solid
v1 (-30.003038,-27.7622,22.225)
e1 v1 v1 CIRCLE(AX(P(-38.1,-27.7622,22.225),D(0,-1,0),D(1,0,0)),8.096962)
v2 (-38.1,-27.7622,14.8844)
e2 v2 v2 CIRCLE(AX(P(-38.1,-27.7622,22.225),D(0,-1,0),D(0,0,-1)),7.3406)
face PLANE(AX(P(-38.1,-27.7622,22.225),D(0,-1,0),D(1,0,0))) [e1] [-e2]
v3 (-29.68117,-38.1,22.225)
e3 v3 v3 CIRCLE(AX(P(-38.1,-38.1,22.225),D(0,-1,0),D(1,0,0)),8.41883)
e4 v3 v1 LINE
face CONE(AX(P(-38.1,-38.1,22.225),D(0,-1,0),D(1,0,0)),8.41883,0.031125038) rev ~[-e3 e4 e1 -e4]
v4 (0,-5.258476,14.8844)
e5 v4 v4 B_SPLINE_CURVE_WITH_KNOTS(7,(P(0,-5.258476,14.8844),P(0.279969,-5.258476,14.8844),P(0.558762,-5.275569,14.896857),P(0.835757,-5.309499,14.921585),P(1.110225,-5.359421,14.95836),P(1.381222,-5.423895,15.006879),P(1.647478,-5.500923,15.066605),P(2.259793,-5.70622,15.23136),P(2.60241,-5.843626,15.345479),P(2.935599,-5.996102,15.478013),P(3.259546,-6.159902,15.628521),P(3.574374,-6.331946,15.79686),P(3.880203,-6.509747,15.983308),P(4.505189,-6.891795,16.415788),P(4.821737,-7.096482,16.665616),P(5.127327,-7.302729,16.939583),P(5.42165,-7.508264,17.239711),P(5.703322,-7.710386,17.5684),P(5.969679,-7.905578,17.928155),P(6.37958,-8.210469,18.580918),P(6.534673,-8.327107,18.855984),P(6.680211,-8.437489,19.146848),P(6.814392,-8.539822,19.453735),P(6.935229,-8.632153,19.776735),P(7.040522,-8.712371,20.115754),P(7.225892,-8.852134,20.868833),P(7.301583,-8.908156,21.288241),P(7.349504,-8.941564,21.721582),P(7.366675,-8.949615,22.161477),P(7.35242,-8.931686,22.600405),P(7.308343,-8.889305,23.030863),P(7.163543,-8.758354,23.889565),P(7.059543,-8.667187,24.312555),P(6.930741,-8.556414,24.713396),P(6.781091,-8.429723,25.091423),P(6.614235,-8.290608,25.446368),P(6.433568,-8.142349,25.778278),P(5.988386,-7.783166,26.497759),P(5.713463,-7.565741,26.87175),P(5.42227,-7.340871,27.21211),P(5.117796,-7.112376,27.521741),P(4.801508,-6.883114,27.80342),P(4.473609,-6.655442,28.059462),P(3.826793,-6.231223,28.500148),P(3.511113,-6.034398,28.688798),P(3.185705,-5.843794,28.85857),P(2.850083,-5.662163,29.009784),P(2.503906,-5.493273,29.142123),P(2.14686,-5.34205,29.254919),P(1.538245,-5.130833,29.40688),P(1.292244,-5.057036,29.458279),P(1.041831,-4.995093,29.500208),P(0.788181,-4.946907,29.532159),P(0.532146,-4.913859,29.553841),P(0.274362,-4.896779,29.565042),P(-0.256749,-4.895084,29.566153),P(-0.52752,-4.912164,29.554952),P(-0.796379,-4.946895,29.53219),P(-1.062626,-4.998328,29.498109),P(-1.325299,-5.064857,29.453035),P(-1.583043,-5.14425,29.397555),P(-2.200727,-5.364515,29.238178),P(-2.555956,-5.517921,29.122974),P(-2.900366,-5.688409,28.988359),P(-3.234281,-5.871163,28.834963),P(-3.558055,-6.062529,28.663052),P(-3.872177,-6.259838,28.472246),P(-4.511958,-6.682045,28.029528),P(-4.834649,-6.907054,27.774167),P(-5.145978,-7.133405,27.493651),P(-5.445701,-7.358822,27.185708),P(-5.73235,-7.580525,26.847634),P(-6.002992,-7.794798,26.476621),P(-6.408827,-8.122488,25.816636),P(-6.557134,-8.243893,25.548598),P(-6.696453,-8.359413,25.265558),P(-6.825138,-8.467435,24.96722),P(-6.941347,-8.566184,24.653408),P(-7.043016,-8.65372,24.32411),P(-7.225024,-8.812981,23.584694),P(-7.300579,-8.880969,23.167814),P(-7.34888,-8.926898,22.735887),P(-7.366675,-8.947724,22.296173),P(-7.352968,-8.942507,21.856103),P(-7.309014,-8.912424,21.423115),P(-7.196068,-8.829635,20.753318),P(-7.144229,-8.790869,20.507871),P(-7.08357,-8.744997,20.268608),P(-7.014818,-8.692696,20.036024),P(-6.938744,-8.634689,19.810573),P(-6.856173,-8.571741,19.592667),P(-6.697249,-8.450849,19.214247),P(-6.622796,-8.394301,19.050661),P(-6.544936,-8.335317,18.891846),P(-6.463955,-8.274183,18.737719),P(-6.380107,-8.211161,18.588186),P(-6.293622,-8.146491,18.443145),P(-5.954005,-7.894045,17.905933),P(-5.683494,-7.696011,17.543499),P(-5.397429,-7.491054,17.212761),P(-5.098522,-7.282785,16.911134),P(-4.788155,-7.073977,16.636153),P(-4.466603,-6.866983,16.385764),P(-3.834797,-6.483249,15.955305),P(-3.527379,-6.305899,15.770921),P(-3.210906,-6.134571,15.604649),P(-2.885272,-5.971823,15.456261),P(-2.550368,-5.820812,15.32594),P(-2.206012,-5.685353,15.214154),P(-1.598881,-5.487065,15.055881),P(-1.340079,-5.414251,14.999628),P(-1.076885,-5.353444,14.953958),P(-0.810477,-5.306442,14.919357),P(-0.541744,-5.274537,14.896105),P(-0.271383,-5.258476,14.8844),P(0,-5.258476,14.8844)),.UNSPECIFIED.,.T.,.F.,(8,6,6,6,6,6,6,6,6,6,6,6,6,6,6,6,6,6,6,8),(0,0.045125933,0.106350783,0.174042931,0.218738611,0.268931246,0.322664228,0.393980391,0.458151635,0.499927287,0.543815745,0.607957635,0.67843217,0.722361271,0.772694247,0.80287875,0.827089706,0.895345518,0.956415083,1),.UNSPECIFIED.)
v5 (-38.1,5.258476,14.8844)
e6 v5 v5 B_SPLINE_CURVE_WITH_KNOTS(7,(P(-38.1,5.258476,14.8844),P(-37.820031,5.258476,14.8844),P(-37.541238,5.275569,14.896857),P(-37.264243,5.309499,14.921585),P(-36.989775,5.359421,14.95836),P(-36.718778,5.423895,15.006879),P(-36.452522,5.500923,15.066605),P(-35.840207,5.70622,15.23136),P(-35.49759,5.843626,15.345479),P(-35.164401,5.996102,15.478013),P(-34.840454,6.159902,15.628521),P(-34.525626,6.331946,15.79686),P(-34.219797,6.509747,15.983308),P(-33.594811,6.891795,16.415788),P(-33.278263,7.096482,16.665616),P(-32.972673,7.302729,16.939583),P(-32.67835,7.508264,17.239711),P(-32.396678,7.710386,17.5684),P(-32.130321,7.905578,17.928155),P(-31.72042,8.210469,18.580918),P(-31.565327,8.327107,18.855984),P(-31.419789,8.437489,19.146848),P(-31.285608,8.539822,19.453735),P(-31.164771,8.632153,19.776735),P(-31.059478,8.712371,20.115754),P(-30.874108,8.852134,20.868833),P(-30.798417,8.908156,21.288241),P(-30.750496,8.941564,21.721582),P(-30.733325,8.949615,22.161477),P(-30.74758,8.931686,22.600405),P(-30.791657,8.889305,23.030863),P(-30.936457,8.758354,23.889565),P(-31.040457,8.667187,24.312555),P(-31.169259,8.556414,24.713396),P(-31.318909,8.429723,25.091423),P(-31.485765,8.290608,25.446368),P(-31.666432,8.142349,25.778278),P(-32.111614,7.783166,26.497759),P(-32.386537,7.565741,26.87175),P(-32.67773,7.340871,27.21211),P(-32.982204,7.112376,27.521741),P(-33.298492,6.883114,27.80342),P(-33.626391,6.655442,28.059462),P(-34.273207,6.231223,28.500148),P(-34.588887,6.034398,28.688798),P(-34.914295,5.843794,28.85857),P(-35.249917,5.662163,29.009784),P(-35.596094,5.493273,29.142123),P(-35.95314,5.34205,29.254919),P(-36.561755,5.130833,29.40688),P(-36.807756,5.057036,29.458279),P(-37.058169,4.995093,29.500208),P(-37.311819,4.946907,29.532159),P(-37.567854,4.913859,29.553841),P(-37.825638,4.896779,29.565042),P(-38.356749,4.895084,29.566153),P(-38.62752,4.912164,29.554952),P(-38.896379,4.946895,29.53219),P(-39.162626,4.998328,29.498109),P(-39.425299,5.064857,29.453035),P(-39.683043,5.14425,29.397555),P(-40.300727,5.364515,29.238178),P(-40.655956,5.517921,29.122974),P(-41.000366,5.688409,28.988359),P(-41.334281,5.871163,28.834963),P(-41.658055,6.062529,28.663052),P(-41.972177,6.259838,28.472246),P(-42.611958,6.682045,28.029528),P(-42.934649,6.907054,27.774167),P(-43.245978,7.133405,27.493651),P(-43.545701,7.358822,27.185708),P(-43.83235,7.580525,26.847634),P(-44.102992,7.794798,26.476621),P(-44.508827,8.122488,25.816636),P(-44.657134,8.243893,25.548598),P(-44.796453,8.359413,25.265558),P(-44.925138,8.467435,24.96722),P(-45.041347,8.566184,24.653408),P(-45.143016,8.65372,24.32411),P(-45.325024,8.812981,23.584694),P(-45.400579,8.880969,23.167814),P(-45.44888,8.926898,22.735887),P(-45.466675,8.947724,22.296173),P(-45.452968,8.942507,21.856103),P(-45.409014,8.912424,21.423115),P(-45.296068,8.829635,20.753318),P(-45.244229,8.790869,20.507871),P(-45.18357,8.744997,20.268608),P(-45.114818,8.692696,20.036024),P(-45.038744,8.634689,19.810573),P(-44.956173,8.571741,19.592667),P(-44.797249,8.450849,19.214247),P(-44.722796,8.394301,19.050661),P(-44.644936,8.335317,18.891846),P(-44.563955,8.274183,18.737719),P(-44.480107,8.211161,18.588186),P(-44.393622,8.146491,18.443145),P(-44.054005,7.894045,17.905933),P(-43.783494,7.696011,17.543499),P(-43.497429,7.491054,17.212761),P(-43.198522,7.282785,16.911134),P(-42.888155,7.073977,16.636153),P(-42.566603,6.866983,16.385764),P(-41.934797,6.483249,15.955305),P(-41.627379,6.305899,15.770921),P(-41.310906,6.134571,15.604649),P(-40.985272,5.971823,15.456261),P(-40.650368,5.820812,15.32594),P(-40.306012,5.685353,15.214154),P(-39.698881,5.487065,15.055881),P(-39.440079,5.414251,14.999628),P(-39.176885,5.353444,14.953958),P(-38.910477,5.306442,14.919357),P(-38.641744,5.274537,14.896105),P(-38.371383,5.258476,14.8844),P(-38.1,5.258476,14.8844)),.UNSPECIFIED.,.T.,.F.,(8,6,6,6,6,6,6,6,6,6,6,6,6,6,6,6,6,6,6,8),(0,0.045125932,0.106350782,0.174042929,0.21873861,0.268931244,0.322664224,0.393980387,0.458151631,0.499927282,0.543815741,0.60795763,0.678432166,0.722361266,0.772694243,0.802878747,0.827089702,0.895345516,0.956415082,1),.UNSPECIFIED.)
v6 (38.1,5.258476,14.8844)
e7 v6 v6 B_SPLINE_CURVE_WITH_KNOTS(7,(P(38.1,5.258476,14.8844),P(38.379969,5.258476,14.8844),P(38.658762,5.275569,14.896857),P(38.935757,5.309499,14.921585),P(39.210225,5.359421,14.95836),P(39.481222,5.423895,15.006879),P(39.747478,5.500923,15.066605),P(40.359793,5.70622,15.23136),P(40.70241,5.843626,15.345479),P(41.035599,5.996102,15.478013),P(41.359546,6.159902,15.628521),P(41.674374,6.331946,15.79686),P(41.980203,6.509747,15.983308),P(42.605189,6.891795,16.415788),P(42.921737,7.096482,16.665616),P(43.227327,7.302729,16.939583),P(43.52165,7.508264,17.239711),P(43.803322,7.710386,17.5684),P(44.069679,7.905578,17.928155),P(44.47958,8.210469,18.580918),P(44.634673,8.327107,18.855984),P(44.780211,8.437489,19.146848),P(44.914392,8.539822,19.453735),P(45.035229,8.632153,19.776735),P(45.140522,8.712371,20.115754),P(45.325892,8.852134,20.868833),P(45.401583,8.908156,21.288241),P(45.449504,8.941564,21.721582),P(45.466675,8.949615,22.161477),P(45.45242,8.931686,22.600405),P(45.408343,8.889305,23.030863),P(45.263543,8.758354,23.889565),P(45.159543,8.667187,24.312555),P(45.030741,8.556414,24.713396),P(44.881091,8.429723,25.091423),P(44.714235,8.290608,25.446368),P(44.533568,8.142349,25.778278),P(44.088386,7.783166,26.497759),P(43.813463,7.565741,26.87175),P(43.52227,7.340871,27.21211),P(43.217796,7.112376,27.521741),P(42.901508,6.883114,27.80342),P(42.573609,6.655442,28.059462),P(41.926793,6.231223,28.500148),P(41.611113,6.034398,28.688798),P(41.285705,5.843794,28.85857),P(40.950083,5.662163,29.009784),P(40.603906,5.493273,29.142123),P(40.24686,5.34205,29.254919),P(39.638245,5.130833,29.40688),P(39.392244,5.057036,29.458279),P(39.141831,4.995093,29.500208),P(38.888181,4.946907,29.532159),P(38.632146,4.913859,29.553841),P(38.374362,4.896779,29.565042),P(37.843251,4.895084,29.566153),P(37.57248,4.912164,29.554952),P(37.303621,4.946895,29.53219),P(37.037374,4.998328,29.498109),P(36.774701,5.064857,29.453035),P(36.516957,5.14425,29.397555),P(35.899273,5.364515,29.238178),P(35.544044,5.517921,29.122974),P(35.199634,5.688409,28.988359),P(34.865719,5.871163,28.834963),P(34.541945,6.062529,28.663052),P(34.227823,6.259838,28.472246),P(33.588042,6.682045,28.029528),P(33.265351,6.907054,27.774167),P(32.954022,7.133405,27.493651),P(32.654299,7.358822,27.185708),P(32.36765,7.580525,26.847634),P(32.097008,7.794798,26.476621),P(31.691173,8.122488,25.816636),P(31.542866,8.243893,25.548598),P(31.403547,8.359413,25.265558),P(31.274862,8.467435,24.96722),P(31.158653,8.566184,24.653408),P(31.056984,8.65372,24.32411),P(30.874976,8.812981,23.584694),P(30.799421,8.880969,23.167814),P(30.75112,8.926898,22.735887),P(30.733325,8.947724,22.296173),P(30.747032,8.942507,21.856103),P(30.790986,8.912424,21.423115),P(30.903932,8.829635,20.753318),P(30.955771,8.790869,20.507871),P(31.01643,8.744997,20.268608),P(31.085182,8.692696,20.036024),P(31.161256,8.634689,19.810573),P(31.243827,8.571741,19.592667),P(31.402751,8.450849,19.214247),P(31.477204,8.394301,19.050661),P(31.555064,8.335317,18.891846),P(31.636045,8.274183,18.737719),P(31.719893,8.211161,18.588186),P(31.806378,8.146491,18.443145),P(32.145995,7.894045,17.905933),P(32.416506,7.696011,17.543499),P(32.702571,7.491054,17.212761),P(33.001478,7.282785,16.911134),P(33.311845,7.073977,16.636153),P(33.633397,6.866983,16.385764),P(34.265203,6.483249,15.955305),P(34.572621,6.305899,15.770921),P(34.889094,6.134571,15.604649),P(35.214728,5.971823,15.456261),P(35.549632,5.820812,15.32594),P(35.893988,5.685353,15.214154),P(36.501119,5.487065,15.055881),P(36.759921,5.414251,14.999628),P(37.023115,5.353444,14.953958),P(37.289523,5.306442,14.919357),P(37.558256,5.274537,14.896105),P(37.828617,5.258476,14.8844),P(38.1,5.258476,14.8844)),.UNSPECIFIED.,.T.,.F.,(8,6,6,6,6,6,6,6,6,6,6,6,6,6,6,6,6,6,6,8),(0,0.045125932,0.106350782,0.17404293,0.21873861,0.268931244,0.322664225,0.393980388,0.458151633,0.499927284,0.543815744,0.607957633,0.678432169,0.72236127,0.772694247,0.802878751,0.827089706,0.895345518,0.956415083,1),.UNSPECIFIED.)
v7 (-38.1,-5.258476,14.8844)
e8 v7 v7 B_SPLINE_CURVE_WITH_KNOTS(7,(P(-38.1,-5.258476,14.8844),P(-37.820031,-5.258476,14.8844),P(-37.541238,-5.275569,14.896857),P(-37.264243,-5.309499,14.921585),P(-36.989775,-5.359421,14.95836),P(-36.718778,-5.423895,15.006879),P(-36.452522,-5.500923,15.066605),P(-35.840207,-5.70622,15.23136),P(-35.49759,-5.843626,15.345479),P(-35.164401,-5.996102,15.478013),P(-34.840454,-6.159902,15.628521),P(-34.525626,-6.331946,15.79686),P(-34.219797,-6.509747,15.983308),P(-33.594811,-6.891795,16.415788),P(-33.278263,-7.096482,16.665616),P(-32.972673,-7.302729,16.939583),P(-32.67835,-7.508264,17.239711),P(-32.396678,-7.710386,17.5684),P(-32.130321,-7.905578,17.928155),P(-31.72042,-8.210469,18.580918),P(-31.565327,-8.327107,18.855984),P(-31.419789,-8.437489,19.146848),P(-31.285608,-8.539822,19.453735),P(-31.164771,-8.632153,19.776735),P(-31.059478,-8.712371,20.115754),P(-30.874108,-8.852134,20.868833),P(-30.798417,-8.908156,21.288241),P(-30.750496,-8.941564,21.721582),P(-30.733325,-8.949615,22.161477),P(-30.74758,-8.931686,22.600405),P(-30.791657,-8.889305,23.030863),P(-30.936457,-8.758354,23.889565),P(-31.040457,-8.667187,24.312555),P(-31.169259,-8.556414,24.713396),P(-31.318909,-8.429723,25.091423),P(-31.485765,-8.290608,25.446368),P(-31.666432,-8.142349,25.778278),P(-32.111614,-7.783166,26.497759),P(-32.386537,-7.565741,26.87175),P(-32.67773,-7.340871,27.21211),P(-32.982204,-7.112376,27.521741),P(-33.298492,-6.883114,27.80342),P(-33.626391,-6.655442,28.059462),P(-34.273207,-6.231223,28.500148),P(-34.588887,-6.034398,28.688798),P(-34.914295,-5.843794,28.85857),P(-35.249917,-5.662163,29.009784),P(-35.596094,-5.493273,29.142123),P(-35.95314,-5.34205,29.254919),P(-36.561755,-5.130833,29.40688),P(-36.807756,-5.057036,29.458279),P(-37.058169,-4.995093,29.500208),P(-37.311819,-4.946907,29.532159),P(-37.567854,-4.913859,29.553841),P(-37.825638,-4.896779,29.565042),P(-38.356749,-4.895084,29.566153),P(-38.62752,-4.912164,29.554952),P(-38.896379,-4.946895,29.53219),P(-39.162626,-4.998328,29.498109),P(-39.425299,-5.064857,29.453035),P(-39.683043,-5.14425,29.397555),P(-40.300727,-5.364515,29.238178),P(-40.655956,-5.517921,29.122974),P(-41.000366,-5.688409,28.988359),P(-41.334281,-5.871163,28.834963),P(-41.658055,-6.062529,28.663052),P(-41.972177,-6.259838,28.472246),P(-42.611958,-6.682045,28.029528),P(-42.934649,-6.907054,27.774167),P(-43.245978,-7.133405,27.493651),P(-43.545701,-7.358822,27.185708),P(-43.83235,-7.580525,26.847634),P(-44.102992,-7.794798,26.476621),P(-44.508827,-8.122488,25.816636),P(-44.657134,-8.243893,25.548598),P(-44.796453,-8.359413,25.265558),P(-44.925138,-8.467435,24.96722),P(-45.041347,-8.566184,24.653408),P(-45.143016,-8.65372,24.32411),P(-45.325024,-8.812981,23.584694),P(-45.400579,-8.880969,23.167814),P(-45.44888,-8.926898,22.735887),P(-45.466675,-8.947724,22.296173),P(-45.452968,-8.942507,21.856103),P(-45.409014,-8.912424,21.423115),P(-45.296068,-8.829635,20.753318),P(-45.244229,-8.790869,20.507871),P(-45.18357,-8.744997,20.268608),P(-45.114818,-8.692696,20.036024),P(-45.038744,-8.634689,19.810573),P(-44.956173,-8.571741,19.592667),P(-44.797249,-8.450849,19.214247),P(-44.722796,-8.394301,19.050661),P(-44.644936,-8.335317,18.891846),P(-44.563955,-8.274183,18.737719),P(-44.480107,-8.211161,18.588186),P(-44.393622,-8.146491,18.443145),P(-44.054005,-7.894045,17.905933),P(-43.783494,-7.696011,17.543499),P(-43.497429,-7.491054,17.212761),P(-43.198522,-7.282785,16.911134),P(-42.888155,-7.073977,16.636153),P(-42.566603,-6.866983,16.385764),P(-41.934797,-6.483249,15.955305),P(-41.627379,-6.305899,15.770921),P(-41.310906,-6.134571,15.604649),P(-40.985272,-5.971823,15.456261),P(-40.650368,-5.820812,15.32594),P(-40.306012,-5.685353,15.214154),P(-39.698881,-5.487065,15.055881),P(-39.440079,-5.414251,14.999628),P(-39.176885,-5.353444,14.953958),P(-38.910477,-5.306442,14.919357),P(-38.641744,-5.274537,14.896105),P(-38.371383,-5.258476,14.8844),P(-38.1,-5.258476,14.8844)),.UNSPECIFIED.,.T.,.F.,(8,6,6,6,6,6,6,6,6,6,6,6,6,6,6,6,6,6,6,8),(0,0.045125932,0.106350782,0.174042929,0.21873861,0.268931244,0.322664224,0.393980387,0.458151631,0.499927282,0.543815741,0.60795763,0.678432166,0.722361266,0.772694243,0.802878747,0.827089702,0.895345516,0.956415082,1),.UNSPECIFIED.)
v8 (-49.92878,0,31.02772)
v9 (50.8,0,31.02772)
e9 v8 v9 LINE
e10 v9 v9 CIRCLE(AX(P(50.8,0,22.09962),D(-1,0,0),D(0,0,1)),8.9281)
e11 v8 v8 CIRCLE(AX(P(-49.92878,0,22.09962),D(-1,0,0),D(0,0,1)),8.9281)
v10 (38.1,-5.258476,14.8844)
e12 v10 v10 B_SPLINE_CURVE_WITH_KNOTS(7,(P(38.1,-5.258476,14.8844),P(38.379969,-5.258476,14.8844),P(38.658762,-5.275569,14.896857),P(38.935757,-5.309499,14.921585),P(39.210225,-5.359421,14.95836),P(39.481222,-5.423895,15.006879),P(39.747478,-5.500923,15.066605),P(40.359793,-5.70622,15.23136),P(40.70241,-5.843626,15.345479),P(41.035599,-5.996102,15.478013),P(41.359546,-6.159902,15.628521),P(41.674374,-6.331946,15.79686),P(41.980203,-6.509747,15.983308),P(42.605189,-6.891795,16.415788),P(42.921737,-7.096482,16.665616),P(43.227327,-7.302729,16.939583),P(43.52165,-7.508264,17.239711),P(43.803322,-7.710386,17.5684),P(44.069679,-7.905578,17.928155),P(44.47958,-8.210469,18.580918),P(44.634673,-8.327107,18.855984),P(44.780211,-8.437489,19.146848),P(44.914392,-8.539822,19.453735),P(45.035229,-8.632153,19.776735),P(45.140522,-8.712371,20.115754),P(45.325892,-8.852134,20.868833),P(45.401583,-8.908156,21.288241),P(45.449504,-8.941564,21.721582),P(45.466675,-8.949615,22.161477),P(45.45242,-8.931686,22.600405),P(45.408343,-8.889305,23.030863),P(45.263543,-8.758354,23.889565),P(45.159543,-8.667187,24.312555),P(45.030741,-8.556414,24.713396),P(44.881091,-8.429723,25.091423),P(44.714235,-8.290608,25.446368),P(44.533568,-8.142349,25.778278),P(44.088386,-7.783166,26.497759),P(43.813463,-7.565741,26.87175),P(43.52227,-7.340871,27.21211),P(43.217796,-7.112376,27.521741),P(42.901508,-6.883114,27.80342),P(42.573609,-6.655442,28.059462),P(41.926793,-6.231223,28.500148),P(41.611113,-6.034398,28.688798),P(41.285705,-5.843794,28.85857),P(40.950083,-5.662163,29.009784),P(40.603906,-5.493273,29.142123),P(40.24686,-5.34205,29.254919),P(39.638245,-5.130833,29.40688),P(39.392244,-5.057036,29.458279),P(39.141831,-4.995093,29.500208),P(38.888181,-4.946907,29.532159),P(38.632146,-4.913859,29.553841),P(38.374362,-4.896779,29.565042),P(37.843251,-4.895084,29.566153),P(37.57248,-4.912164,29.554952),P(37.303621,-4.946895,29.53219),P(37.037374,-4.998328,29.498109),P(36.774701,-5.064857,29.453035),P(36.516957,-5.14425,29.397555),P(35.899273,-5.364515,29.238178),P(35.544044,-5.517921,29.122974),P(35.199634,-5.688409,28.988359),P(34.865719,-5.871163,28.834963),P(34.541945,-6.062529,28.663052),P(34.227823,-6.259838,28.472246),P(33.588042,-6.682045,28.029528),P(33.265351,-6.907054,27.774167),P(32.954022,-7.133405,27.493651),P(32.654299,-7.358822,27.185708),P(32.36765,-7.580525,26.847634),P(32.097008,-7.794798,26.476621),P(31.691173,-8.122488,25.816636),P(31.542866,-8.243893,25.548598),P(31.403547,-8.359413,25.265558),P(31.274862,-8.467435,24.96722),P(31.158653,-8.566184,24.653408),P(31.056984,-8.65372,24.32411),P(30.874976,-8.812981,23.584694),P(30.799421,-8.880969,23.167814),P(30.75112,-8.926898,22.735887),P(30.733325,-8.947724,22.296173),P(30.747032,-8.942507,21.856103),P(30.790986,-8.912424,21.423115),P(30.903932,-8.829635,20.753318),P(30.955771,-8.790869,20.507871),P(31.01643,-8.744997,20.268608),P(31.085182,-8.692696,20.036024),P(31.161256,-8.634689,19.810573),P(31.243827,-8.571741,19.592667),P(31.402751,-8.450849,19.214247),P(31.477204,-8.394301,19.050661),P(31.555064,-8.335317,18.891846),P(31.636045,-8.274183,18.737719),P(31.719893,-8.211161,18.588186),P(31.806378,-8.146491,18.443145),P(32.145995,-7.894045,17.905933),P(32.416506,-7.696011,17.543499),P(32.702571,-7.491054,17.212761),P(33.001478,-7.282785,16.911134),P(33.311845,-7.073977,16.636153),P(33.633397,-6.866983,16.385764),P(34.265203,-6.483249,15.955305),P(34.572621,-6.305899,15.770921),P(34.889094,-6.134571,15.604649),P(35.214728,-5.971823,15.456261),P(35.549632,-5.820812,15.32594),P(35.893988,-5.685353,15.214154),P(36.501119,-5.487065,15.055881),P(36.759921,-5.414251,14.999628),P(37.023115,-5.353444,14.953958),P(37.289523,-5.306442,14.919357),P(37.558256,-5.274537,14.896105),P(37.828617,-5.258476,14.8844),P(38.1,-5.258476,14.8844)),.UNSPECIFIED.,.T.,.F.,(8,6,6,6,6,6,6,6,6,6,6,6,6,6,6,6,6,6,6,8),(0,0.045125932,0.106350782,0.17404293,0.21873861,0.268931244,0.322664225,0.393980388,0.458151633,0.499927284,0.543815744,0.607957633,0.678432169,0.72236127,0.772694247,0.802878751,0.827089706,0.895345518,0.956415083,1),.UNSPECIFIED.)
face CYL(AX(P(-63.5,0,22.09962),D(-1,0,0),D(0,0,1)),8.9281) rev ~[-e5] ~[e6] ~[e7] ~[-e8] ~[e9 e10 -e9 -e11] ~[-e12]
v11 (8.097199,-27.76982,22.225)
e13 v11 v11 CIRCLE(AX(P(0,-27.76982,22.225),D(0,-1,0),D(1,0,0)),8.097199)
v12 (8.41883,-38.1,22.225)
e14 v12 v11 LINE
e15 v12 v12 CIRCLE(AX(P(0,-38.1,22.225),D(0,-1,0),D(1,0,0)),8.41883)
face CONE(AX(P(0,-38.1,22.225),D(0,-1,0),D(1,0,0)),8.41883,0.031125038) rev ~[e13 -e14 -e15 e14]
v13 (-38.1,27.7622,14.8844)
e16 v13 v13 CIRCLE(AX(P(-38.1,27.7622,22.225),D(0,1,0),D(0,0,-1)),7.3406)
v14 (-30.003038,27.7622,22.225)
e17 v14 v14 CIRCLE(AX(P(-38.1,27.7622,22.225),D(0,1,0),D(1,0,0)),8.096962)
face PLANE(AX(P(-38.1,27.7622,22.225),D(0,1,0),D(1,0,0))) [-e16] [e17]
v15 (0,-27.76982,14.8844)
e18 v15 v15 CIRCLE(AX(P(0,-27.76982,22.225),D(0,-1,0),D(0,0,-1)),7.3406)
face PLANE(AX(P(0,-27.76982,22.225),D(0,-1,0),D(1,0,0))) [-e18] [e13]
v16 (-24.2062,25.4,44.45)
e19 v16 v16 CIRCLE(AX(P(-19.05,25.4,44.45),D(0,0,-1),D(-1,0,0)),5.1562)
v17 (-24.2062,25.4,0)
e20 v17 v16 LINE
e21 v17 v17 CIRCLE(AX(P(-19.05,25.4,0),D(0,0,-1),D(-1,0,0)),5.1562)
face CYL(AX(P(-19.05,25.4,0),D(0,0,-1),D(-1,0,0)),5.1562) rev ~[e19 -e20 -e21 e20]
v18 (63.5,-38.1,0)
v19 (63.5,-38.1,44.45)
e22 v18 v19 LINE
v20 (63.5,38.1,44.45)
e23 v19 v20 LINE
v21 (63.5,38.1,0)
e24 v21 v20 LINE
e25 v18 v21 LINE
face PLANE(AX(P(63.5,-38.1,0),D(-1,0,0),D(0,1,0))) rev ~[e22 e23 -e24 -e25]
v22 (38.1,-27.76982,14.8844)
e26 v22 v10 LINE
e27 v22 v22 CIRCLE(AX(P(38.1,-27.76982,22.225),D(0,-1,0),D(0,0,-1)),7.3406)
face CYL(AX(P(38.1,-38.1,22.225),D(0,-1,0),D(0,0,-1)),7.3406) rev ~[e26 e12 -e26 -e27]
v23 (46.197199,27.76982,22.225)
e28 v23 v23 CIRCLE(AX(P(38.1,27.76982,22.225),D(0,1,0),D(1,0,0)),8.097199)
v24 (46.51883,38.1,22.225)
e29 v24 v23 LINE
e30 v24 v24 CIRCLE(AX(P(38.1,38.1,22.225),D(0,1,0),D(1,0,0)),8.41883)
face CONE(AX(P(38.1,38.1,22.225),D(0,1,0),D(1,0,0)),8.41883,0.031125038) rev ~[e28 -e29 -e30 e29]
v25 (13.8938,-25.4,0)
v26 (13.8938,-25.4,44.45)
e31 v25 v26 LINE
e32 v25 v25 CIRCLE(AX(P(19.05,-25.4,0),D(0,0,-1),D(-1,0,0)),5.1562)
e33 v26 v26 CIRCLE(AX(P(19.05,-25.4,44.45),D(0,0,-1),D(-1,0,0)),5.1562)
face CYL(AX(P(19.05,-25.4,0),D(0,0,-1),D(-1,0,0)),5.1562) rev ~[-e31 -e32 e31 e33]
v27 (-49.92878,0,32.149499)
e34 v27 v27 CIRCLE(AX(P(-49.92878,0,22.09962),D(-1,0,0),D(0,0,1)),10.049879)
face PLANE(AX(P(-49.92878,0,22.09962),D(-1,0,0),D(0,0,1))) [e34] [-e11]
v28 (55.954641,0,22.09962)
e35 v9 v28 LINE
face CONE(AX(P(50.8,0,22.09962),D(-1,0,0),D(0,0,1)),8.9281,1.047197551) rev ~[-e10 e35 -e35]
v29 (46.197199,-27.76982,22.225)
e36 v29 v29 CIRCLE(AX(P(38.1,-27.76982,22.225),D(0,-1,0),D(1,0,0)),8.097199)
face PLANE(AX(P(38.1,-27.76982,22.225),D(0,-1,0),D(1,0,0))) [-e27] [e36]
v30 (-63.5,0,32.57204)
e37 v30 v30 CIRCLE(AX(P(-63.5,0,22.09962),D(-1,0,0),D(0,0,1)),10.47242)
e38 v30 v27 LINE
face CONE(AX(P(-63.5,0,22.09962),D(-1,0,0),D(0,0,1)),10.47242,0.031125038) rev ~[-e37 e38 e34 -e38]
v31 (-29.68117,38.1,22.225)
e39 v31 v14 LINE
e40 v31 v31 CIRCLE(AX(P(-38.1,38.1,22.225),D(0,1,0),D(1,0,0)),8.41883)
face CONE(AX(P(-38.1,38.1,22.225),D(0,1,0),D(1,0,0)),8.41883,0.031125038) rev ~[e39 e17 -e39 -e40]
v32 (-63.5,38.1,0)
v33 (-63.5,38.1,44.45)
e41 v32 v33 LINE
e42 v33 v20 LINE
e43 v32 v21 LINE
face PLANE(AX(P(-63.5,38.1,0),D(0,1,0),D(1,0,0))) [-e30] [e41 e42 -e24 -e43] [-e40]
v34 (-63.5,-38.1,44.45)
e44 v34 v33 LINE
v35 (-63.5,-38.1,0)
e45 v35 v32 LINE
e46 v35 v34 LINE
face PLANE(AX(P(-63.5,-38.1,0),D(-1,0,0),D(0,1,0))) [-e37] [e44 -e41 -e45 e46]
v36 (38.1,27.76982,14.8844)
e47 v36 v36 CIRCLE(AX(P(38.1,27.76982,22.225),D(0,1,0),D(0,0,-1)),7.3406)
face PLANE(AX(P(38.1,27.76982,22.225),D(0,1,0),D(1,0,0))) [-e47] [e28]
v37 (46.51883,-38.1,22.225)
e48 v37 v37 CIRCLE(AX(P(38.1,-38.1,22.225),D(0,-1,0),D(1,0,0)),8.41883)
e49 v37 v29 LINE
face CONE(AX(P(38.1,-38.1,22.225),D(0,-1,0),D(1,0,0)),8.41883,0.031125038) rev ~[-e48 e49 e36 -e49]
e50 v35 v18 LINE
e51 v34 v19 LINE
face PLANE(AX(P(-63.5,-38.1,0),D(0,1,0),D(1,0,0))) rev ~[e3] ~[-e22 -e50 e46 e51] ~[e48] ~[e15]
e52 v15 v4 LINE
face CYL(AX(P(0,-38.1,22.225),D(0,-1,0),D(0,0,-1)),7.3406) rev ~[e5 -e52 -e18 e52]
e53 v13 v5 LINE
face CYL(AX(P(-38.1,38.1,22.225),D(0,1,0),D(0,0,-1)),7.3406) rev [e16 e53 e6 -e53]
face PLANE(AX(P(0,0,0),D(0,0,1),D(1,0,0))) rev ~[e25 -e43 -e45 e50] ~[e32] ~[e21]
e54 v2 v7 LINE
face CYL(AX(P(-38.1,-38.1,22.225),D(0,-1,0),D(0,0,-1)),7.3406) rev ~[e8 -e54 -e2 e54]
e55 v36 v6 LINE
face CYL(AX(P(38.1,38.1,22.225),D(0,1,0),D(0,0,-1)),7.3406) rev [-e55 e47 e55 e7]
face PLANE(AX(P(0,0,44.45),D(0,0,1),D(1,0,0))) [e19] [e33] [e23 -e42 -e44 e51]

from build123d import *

# Parameters (mm, degrees)
SKETCH1_W                = 127
SKETCH1_H                = 76.2
BASE_EXTRUDE_DEPTH       = 44.45
SKETCH13_R               = 10.47242
CUT_EXTRUDE7_DEPTH       = 13.57122
CUT_EXTRUDE7_DRAFT       = -1.783333333
SKETCH14_R               = 8.9281
CUT_EXTRUDE8_DEPTH       = 114.3
SKETCH17_R               = 8.41883
CUT_EXTRUDE10_DEPTH      = 10.33018
CUT_EXTRUDE10_DRAFT      = -1.783333333
CUT_EXTRUDE11_REACH      = 182.583
CUT_EXTRUDE11_END_RADIUS = 8.9281
SKETCH18_R               = 7.3406
SKETCH21_R               = 8.41883
CUT_EXTRUDE13_DEPTH      = 10.33018
CUT_EXTRUDE13_DRAFT      = -1.783333333
CUT_EXTRUDE14_REACH      = 151.643
CUT_EXTRUDE14_END_RADIUS = 8.9281
SKETCH22_R               = 7.3406
SKETCH25_R               = 8.41883
CUT_EXTRUDE16_DEPTH      = 10.3378
CUT_EXTRUDE16_DRAFT      = -1.783333333
CUT_EXTRUDE17_REACH      = 124.053
CUT_EXTRUDE17_END_RADIUS = 8.9281
SKETCH26_R               = 7.3406
MIRROR1_COPY_1_SKETCH_R  = 8.41883
MIRROR1_COPY_1_DEPTH     = 10.33018
MIRROR1_COPY_1_DRAFT     = -1.783333333
MIRROR1_COPY_2_SKETCH_R  = 8.41883
MIRROR1_COPY_2_DEPTH     = 10.3378
MIRROR1_COPY_2_DRAFT     = -1.783333333
SKETCH29_R               = 5.1562
CUT_EXTRUDE19_DEPTH      = 87.36933773


with BuildPart() as part:
    # Sketch1 → Base-Extrude (new body)
    with BuildSketch(Plane.XY):
        Rectangle(SKETCH1_W, SKETCH1_H)
    extrude(amount=BASE_EXTRUDE_DEPTH)


with BuildPart() as cut_extrude7_tool:
    # Sketch13 → Cut-Extrude7 (with draft: the straight prism first)
    with BuildSketch(Plane(origin=(-63.5, 42.382338567, -29.074180248), x_dir=(0, 0, 1), z_dir=(-1, 0, 0))):
        with Locations((51.173800102, -42.382338567)):
            Circle(SKETCH13_R)
    extrude(amount=-CUT_EXTRUDE7_DEPTH)
    # Cut-Extrude7: the draft: its side faces are tilted about the plane it starts from
    cut_extrude7_sides = [cut_extrude7_tool.faces().sort_by_distance(p)[0] for p in [
        (-56.71439, 0, 11.627199854),
    ]]
    draft(cut_extrude7_sides, Plane(origin=(-63.5, 42.382338567, -29.074180248), x_dir=(0, 0, 1), z_dir=(-1, 0, 0)), CUT_EXTRUDE7_DRAFT)


with BuildPart() as part_1:
    add(part.part)

    # Cut-Extrude7: cut by cut_extrude7_tool
    add(cut_extrude7_tool.part, mode=Mode.SUBTRACT)

    # Sketch14 → Cut-Extrude8 (cut)
    with BuildSketch(Plane(origin=(-63.5, 38.1, -63.5), x_dir=(0, 0, 1), z_dir=(-1, 0, 0))):
        with Locations((85.599619854, -38.1)):
            Circle(SKETCH14_R)
    extrude(amount=-CUT_EXTRUDE8_DEPTH, mode=Mode.SUBTRACT)

    # Cut-Extrude9 cone 1 section (through the dimple's axis) → Cut-Extrude9 (revolve, cut)
    with BuildSketch(Plane(origin=(50.8, 0, 22.099619854), x_dir=(0, 0, 1), z_dir=(0, 1, 0))):
        Polygon((0, 0), (8.9281, 0), (0, 5.154640938), align=None)
    revolve(axis=Axis((50.8, 0, 22.099619854), (1, 0, 0)), mode=Mode.SUBTRACT)


with BuildPart() as cut_extrude10_tool:
    # Sketch17 → Cut-Extrude10 (with draft: the straight prism first)
    with BuildSketch(Plane(origin=(97.86363054, -38.1, 25.99710819), x_dir=(1, 0, 0), z_dir=(0, -1, 0))):
        with Locations((-59.76363054, -3.77210819)):
            Circle(SKETCH17_R)
    extrude(amount=-CUT_EXTRUDE10_DEPTH)
    # Cut-Extrude10: the draft: its side faces are tilted about the plane it starts from
    cut_extrude10_sides = [cut_extrude10_tool.faces().sort_by_distance(p)[0] for p in [
        (29.68117, -32.93491, 22.225),
    ]]
    draft(cut_extrude10_sides, Plane(origin=(97.86363054, -38.1, 25.99710819), x_dir=(1, 0, 0), z_dir=(0, -1, 0)), CUT_EXTRUDE10_DRAFT)


with BuildPart() as part_2:
    add(part_1.part)

    # Cut-Extrude10: cut by cut_extrude10_tool
    add(cut_extrude10_tool.part, mode=Mode.SUBTRACT)

    # Cut-Extrude11: up to this cylinder (the profile starts outside it)
    cut_extrude11_end = Plane(origin=(38.1, 0, 22.099619854), z_dir=(-1, 0, 0)) * Cylinder(CUT_EXTRUDE11_END_RADIUS, 384.0222, mode=Mode.PRIVATE)
    # Sketch18 → Cut-Extrude11 (cut, up to the surface)
    with BuildSketch(Plane(origin=(98.70252821, -38.1, 22.225), x_dir=(1, 0, 0), z_dir=(0, -1, 0)), mode=Mode.PRIVATE) as cut_extrude11_sk1:
        with Locations(Location((-60.60252821, 0, 0), (0, 0, 270))):
            Circle(SKETCH18_R)
    cut_extrude11_tool1 = extrude(cut_extrude11_sk1.sketch, amount=-CUT_EXTRUDE11_REACH, mode=Mode.PRIVATE) - cut_extrude11_end
    cut_extrude11 = cut_extrude11_tool1.solids().sort_by_distance((38.1, -38.1, 22.225))[0]
    add(cut_extrude11, mode=Mode.SUBTRACT)


with BuildPart() as cut_extrude13_tool:
    # Sketch21 → Cut-Extrude13 (with draft: the straight prism first)
    with BuildSketch(Plane(origin=(60.495960608, -38.1, 35.437611041), x_dir=(1, 0, 0), z_dir=(0, -1, 0))):
        with Locations((-60.495960608, -13.212611041)):
            Circle(SKETCH21_R)
    extrude(amount=-CUT_EXTRUDE13_DEPTH)
    # Cut-Extrude13: the draft: its side faces are tilted about the plane it starts from
    cut_extrude13_sides = [cut_extrude13_tool.faces().sort_by_distance(p)[0] for p in [
        (-8.41883, -32.93491, 22.225),
    ]]
    draft(cut_extrude13_sides, Plane(origin=(60.495960608, -38.1, 35.437611041), x_dir=(1, 0, 0), z_dir=(0, -1, 0)), CUT_EXTRUDE13_DRAFT)


with BuildPart() as part_3:
    add(part_2.part)

    # Cut-Extrude13: cut by cut_extrude13_tool
    add(cut_extrude13_tool.part, mode=Mode.SUBTRACT)

    # Cut-Extrude14: up to this cylinder (the profile starts outside it)
    cut_extrude14_end = Plane(origin=(0, 0, 22.099619854), z_dir=(-1, 0, 0)) * Cylinder(CUT_EXTRUDE14_END_RADIUS, 322.1422, mode=Mode.PRIVATE)
    # Sketch22 → Cut-Extrude14 (cut, up to the surface)
    with BuildSketch(Plane(origin=(61.334858278, -38.1, 31.665502851), x_dir=(1, 0, 0), z_dir=(0, -1, 0)), mode=Mode.PRIVATE) as cut_extrude14_sk1:
        with Locations(Location((-61.334858278, -9.440502851, 0), (0, 0, 270))):
            Circle(SKETCH22_R)
    cut_extrude14_tool1 = extrude(cut_extrude14_sk1.sketch, amount=-CUT_EXTRUDE14_REACH, mode=Mode.PRIVATE) - cut_extrude14_end
    add(cut_extrude14_tool1.solids().sort_by_distance((0, -38.1, 22.225))[0], mode=Mode.SUBTRACT)


with BuildPart() as cut_extrude16_tool:
    # Sketch25 → Cut-Extrude16 (with draft: the straight prism first)
    with BuildSketch(Plane(origin=(25.307359991, -38.1, 36.236677515), x_dir=(1, 0, 0), z_dir=(0, -1, 0))):
        with Locations((-63.407359991, -14.011677515)):
            Circle(SKETCH25_R)
    extrude(amount=-CUT_EXTRUDE16_DEPTH)
    # Cut-Extrude16: the draft: its side faces are tilted about the plane it starts from
    cut_extrude16_sides = [cut_extrude16_tool.faces().sort_by_distance(p)[0] for p in [
        (-46.51883, -32.9311, 22.225),
    ]]
    draft(cut_extrude16_sides, Plane(origin=(25.307359991, -38.1, 36.236677515), x_dir=(1, 0, 0), z_dir=(0, -1, 0)), CUT_EXTRUDE16_DRAFT)


with BuildPart() as part_4:
    add(part_3.part)

    # Cut-Extrude16: cut by cut_extrude16_tool
    add(cut_extrude16_tool.part, mode=Mode.SUBTRACT)

    # Cut-Extrude17: up to this cylinder (the profile starts outside it)
    cut_extrude17_end = Plane(origin=(-38.1, 0, 22.099619854), z_dir=(-1, 0, 0)) * Cylinder(CUT_EXTRUDE17_END_RADIUS, 266.9622, mode=Mode.PRIVATE)
    # Sketch26 → Cut-Extrude17 (cut, up to the surface)
    with BuildSketch(Plane(origin=(26.146257661, -38.1, 32.464569325), x_dir=(1, 0, 0), z_dir=(0, -1, 0)), mode=Mode.PRIVATE) as cut_extrude17_sk1:
        with Locations(Location((-64.246257661, -10.239569325, 0), (0, 0, 270))):
            Circle(SKETCH26_R)
    cut_extrude17_tool1 = extrude(cut_extrude17_sk1.sketch, amount=-CUT_EXTRUDE17_REACH, mode=Mode.PRIVATE) - cut_extrude17_end
    cut_extrude17 = cut_extrude17_tool1.solids().sort_by_distance((-38.1, -38.1, 22.225))[0]
    add(cut_extrude17, mode=Mode.SUBTRACT)

    # Mirror1: Cut-Extrude11, Cut-Extrude17 across plane
    add(cut_extrude11.mirror(Plane.ZX), mode=Mode.SUBTRACT)
    add(cut_extrude17.mirror(Plane.ZX), mode=Mode.SUBTRACT)


with BuildPart() as mirror1_copy_1_tool:
    # Mirror1 copy 1 sketch → Mirror1 copy 1 (with draft: the straight prism first)
    with BuildSketch(Plane(origin=(97.86363054, 38.1, 25.99710819), x_dir=(1, 0, 0), z_dir=(0, 1, 0))):
        with Locations((-59.76363054, 3.77210819)):
            Circle(MIRROR1_COPY_1_SKETCH_R)
    extrude(amount=-MIRROR1_COPY_1_DEPTH)
    # Mirror1 copy 1: the draft: its side faces are tilted about the plane it starts from
    mirror1_copy_1_sides = [mirror1_copy_1_tool.faces().sort_by_distance(p)[0] for p in [
        (29.68117, 32.93491, 22.225),
    ]]
    draft(mirror1_copy_1_sides, Plane(origin=(97.86363054, 38.1, 25.99710819), x_dir=(1, 0, 0), z_dir=(0, 1, 0)), MIRROR1_COPY_1_DRAFT)


with BuildPart() as part_5:
    add(part_4.part)

    # Mirror1 copy 1: cut by mirror1_copy_1_tool
    add(mirror1_copy_1_tool.part, mode=Mode.SUBTRACT)


with BuildPart() as mirror1_copy_2_tool:
    # Mirror1 copy 2 sketch → Mirror1 copy 2 (with draft: the straight prism first)
    with BuildSketch(Plane(origin=(25.307359991, 38.1, 36.236677515), x_dir=(1, 0, 0), z_dir=(0, 1, 0))):
        with Locations((-63.407359991, 14.011677515)):
            Circle(MIRROR1_COPY_2_SKETCH_R)
    extrude(amount=-MIRROR1_COPY_2_DEPTH)
    # Mirror1 copy 2: the draft: its side faces are tilted about the plane it starts from
    mirror1_copy_2_sides = [mirror1_copy_2_tool.faces().sort_by_distance(p)[0] for p in [
        (-46.51883, 32.9311, 22.225),
    ]]
    draft(mirror1_copy_2_sides, Plane(origin=(25.307359991, 38.1, 36.236677515), x_dir=(1, 0, 0), z_dir=(0, 1, 0)), MIRROR1_COPY_2_DRAFT)


with BuildPart() as part_6:
    add(part_5.part)

    # Mirror1 copy 2: cut by mirror1_copy_2_tool
    add(mirror1_copy_2_tool.part, mode=Mode.SUBTRACT)

    # Sketch29 → Cut-Extrude19 (cut, through all)
    with BuildSketch(Plane(origin=(0, 0, 0), x_dir=(-1, 0, 0), z_dir=(0, 0, -1))):
        with Locations((-19.05, -25.4)):
            Circle(SKETCH29_R)
        with Locations((19.05, 25.4)):
            Circle(SKETCH29_R)
    extrude(amount=-CUT_EXTRUDE19_DEPTH, mode=Mode.SUBTRACT)


solid = part_6.part
